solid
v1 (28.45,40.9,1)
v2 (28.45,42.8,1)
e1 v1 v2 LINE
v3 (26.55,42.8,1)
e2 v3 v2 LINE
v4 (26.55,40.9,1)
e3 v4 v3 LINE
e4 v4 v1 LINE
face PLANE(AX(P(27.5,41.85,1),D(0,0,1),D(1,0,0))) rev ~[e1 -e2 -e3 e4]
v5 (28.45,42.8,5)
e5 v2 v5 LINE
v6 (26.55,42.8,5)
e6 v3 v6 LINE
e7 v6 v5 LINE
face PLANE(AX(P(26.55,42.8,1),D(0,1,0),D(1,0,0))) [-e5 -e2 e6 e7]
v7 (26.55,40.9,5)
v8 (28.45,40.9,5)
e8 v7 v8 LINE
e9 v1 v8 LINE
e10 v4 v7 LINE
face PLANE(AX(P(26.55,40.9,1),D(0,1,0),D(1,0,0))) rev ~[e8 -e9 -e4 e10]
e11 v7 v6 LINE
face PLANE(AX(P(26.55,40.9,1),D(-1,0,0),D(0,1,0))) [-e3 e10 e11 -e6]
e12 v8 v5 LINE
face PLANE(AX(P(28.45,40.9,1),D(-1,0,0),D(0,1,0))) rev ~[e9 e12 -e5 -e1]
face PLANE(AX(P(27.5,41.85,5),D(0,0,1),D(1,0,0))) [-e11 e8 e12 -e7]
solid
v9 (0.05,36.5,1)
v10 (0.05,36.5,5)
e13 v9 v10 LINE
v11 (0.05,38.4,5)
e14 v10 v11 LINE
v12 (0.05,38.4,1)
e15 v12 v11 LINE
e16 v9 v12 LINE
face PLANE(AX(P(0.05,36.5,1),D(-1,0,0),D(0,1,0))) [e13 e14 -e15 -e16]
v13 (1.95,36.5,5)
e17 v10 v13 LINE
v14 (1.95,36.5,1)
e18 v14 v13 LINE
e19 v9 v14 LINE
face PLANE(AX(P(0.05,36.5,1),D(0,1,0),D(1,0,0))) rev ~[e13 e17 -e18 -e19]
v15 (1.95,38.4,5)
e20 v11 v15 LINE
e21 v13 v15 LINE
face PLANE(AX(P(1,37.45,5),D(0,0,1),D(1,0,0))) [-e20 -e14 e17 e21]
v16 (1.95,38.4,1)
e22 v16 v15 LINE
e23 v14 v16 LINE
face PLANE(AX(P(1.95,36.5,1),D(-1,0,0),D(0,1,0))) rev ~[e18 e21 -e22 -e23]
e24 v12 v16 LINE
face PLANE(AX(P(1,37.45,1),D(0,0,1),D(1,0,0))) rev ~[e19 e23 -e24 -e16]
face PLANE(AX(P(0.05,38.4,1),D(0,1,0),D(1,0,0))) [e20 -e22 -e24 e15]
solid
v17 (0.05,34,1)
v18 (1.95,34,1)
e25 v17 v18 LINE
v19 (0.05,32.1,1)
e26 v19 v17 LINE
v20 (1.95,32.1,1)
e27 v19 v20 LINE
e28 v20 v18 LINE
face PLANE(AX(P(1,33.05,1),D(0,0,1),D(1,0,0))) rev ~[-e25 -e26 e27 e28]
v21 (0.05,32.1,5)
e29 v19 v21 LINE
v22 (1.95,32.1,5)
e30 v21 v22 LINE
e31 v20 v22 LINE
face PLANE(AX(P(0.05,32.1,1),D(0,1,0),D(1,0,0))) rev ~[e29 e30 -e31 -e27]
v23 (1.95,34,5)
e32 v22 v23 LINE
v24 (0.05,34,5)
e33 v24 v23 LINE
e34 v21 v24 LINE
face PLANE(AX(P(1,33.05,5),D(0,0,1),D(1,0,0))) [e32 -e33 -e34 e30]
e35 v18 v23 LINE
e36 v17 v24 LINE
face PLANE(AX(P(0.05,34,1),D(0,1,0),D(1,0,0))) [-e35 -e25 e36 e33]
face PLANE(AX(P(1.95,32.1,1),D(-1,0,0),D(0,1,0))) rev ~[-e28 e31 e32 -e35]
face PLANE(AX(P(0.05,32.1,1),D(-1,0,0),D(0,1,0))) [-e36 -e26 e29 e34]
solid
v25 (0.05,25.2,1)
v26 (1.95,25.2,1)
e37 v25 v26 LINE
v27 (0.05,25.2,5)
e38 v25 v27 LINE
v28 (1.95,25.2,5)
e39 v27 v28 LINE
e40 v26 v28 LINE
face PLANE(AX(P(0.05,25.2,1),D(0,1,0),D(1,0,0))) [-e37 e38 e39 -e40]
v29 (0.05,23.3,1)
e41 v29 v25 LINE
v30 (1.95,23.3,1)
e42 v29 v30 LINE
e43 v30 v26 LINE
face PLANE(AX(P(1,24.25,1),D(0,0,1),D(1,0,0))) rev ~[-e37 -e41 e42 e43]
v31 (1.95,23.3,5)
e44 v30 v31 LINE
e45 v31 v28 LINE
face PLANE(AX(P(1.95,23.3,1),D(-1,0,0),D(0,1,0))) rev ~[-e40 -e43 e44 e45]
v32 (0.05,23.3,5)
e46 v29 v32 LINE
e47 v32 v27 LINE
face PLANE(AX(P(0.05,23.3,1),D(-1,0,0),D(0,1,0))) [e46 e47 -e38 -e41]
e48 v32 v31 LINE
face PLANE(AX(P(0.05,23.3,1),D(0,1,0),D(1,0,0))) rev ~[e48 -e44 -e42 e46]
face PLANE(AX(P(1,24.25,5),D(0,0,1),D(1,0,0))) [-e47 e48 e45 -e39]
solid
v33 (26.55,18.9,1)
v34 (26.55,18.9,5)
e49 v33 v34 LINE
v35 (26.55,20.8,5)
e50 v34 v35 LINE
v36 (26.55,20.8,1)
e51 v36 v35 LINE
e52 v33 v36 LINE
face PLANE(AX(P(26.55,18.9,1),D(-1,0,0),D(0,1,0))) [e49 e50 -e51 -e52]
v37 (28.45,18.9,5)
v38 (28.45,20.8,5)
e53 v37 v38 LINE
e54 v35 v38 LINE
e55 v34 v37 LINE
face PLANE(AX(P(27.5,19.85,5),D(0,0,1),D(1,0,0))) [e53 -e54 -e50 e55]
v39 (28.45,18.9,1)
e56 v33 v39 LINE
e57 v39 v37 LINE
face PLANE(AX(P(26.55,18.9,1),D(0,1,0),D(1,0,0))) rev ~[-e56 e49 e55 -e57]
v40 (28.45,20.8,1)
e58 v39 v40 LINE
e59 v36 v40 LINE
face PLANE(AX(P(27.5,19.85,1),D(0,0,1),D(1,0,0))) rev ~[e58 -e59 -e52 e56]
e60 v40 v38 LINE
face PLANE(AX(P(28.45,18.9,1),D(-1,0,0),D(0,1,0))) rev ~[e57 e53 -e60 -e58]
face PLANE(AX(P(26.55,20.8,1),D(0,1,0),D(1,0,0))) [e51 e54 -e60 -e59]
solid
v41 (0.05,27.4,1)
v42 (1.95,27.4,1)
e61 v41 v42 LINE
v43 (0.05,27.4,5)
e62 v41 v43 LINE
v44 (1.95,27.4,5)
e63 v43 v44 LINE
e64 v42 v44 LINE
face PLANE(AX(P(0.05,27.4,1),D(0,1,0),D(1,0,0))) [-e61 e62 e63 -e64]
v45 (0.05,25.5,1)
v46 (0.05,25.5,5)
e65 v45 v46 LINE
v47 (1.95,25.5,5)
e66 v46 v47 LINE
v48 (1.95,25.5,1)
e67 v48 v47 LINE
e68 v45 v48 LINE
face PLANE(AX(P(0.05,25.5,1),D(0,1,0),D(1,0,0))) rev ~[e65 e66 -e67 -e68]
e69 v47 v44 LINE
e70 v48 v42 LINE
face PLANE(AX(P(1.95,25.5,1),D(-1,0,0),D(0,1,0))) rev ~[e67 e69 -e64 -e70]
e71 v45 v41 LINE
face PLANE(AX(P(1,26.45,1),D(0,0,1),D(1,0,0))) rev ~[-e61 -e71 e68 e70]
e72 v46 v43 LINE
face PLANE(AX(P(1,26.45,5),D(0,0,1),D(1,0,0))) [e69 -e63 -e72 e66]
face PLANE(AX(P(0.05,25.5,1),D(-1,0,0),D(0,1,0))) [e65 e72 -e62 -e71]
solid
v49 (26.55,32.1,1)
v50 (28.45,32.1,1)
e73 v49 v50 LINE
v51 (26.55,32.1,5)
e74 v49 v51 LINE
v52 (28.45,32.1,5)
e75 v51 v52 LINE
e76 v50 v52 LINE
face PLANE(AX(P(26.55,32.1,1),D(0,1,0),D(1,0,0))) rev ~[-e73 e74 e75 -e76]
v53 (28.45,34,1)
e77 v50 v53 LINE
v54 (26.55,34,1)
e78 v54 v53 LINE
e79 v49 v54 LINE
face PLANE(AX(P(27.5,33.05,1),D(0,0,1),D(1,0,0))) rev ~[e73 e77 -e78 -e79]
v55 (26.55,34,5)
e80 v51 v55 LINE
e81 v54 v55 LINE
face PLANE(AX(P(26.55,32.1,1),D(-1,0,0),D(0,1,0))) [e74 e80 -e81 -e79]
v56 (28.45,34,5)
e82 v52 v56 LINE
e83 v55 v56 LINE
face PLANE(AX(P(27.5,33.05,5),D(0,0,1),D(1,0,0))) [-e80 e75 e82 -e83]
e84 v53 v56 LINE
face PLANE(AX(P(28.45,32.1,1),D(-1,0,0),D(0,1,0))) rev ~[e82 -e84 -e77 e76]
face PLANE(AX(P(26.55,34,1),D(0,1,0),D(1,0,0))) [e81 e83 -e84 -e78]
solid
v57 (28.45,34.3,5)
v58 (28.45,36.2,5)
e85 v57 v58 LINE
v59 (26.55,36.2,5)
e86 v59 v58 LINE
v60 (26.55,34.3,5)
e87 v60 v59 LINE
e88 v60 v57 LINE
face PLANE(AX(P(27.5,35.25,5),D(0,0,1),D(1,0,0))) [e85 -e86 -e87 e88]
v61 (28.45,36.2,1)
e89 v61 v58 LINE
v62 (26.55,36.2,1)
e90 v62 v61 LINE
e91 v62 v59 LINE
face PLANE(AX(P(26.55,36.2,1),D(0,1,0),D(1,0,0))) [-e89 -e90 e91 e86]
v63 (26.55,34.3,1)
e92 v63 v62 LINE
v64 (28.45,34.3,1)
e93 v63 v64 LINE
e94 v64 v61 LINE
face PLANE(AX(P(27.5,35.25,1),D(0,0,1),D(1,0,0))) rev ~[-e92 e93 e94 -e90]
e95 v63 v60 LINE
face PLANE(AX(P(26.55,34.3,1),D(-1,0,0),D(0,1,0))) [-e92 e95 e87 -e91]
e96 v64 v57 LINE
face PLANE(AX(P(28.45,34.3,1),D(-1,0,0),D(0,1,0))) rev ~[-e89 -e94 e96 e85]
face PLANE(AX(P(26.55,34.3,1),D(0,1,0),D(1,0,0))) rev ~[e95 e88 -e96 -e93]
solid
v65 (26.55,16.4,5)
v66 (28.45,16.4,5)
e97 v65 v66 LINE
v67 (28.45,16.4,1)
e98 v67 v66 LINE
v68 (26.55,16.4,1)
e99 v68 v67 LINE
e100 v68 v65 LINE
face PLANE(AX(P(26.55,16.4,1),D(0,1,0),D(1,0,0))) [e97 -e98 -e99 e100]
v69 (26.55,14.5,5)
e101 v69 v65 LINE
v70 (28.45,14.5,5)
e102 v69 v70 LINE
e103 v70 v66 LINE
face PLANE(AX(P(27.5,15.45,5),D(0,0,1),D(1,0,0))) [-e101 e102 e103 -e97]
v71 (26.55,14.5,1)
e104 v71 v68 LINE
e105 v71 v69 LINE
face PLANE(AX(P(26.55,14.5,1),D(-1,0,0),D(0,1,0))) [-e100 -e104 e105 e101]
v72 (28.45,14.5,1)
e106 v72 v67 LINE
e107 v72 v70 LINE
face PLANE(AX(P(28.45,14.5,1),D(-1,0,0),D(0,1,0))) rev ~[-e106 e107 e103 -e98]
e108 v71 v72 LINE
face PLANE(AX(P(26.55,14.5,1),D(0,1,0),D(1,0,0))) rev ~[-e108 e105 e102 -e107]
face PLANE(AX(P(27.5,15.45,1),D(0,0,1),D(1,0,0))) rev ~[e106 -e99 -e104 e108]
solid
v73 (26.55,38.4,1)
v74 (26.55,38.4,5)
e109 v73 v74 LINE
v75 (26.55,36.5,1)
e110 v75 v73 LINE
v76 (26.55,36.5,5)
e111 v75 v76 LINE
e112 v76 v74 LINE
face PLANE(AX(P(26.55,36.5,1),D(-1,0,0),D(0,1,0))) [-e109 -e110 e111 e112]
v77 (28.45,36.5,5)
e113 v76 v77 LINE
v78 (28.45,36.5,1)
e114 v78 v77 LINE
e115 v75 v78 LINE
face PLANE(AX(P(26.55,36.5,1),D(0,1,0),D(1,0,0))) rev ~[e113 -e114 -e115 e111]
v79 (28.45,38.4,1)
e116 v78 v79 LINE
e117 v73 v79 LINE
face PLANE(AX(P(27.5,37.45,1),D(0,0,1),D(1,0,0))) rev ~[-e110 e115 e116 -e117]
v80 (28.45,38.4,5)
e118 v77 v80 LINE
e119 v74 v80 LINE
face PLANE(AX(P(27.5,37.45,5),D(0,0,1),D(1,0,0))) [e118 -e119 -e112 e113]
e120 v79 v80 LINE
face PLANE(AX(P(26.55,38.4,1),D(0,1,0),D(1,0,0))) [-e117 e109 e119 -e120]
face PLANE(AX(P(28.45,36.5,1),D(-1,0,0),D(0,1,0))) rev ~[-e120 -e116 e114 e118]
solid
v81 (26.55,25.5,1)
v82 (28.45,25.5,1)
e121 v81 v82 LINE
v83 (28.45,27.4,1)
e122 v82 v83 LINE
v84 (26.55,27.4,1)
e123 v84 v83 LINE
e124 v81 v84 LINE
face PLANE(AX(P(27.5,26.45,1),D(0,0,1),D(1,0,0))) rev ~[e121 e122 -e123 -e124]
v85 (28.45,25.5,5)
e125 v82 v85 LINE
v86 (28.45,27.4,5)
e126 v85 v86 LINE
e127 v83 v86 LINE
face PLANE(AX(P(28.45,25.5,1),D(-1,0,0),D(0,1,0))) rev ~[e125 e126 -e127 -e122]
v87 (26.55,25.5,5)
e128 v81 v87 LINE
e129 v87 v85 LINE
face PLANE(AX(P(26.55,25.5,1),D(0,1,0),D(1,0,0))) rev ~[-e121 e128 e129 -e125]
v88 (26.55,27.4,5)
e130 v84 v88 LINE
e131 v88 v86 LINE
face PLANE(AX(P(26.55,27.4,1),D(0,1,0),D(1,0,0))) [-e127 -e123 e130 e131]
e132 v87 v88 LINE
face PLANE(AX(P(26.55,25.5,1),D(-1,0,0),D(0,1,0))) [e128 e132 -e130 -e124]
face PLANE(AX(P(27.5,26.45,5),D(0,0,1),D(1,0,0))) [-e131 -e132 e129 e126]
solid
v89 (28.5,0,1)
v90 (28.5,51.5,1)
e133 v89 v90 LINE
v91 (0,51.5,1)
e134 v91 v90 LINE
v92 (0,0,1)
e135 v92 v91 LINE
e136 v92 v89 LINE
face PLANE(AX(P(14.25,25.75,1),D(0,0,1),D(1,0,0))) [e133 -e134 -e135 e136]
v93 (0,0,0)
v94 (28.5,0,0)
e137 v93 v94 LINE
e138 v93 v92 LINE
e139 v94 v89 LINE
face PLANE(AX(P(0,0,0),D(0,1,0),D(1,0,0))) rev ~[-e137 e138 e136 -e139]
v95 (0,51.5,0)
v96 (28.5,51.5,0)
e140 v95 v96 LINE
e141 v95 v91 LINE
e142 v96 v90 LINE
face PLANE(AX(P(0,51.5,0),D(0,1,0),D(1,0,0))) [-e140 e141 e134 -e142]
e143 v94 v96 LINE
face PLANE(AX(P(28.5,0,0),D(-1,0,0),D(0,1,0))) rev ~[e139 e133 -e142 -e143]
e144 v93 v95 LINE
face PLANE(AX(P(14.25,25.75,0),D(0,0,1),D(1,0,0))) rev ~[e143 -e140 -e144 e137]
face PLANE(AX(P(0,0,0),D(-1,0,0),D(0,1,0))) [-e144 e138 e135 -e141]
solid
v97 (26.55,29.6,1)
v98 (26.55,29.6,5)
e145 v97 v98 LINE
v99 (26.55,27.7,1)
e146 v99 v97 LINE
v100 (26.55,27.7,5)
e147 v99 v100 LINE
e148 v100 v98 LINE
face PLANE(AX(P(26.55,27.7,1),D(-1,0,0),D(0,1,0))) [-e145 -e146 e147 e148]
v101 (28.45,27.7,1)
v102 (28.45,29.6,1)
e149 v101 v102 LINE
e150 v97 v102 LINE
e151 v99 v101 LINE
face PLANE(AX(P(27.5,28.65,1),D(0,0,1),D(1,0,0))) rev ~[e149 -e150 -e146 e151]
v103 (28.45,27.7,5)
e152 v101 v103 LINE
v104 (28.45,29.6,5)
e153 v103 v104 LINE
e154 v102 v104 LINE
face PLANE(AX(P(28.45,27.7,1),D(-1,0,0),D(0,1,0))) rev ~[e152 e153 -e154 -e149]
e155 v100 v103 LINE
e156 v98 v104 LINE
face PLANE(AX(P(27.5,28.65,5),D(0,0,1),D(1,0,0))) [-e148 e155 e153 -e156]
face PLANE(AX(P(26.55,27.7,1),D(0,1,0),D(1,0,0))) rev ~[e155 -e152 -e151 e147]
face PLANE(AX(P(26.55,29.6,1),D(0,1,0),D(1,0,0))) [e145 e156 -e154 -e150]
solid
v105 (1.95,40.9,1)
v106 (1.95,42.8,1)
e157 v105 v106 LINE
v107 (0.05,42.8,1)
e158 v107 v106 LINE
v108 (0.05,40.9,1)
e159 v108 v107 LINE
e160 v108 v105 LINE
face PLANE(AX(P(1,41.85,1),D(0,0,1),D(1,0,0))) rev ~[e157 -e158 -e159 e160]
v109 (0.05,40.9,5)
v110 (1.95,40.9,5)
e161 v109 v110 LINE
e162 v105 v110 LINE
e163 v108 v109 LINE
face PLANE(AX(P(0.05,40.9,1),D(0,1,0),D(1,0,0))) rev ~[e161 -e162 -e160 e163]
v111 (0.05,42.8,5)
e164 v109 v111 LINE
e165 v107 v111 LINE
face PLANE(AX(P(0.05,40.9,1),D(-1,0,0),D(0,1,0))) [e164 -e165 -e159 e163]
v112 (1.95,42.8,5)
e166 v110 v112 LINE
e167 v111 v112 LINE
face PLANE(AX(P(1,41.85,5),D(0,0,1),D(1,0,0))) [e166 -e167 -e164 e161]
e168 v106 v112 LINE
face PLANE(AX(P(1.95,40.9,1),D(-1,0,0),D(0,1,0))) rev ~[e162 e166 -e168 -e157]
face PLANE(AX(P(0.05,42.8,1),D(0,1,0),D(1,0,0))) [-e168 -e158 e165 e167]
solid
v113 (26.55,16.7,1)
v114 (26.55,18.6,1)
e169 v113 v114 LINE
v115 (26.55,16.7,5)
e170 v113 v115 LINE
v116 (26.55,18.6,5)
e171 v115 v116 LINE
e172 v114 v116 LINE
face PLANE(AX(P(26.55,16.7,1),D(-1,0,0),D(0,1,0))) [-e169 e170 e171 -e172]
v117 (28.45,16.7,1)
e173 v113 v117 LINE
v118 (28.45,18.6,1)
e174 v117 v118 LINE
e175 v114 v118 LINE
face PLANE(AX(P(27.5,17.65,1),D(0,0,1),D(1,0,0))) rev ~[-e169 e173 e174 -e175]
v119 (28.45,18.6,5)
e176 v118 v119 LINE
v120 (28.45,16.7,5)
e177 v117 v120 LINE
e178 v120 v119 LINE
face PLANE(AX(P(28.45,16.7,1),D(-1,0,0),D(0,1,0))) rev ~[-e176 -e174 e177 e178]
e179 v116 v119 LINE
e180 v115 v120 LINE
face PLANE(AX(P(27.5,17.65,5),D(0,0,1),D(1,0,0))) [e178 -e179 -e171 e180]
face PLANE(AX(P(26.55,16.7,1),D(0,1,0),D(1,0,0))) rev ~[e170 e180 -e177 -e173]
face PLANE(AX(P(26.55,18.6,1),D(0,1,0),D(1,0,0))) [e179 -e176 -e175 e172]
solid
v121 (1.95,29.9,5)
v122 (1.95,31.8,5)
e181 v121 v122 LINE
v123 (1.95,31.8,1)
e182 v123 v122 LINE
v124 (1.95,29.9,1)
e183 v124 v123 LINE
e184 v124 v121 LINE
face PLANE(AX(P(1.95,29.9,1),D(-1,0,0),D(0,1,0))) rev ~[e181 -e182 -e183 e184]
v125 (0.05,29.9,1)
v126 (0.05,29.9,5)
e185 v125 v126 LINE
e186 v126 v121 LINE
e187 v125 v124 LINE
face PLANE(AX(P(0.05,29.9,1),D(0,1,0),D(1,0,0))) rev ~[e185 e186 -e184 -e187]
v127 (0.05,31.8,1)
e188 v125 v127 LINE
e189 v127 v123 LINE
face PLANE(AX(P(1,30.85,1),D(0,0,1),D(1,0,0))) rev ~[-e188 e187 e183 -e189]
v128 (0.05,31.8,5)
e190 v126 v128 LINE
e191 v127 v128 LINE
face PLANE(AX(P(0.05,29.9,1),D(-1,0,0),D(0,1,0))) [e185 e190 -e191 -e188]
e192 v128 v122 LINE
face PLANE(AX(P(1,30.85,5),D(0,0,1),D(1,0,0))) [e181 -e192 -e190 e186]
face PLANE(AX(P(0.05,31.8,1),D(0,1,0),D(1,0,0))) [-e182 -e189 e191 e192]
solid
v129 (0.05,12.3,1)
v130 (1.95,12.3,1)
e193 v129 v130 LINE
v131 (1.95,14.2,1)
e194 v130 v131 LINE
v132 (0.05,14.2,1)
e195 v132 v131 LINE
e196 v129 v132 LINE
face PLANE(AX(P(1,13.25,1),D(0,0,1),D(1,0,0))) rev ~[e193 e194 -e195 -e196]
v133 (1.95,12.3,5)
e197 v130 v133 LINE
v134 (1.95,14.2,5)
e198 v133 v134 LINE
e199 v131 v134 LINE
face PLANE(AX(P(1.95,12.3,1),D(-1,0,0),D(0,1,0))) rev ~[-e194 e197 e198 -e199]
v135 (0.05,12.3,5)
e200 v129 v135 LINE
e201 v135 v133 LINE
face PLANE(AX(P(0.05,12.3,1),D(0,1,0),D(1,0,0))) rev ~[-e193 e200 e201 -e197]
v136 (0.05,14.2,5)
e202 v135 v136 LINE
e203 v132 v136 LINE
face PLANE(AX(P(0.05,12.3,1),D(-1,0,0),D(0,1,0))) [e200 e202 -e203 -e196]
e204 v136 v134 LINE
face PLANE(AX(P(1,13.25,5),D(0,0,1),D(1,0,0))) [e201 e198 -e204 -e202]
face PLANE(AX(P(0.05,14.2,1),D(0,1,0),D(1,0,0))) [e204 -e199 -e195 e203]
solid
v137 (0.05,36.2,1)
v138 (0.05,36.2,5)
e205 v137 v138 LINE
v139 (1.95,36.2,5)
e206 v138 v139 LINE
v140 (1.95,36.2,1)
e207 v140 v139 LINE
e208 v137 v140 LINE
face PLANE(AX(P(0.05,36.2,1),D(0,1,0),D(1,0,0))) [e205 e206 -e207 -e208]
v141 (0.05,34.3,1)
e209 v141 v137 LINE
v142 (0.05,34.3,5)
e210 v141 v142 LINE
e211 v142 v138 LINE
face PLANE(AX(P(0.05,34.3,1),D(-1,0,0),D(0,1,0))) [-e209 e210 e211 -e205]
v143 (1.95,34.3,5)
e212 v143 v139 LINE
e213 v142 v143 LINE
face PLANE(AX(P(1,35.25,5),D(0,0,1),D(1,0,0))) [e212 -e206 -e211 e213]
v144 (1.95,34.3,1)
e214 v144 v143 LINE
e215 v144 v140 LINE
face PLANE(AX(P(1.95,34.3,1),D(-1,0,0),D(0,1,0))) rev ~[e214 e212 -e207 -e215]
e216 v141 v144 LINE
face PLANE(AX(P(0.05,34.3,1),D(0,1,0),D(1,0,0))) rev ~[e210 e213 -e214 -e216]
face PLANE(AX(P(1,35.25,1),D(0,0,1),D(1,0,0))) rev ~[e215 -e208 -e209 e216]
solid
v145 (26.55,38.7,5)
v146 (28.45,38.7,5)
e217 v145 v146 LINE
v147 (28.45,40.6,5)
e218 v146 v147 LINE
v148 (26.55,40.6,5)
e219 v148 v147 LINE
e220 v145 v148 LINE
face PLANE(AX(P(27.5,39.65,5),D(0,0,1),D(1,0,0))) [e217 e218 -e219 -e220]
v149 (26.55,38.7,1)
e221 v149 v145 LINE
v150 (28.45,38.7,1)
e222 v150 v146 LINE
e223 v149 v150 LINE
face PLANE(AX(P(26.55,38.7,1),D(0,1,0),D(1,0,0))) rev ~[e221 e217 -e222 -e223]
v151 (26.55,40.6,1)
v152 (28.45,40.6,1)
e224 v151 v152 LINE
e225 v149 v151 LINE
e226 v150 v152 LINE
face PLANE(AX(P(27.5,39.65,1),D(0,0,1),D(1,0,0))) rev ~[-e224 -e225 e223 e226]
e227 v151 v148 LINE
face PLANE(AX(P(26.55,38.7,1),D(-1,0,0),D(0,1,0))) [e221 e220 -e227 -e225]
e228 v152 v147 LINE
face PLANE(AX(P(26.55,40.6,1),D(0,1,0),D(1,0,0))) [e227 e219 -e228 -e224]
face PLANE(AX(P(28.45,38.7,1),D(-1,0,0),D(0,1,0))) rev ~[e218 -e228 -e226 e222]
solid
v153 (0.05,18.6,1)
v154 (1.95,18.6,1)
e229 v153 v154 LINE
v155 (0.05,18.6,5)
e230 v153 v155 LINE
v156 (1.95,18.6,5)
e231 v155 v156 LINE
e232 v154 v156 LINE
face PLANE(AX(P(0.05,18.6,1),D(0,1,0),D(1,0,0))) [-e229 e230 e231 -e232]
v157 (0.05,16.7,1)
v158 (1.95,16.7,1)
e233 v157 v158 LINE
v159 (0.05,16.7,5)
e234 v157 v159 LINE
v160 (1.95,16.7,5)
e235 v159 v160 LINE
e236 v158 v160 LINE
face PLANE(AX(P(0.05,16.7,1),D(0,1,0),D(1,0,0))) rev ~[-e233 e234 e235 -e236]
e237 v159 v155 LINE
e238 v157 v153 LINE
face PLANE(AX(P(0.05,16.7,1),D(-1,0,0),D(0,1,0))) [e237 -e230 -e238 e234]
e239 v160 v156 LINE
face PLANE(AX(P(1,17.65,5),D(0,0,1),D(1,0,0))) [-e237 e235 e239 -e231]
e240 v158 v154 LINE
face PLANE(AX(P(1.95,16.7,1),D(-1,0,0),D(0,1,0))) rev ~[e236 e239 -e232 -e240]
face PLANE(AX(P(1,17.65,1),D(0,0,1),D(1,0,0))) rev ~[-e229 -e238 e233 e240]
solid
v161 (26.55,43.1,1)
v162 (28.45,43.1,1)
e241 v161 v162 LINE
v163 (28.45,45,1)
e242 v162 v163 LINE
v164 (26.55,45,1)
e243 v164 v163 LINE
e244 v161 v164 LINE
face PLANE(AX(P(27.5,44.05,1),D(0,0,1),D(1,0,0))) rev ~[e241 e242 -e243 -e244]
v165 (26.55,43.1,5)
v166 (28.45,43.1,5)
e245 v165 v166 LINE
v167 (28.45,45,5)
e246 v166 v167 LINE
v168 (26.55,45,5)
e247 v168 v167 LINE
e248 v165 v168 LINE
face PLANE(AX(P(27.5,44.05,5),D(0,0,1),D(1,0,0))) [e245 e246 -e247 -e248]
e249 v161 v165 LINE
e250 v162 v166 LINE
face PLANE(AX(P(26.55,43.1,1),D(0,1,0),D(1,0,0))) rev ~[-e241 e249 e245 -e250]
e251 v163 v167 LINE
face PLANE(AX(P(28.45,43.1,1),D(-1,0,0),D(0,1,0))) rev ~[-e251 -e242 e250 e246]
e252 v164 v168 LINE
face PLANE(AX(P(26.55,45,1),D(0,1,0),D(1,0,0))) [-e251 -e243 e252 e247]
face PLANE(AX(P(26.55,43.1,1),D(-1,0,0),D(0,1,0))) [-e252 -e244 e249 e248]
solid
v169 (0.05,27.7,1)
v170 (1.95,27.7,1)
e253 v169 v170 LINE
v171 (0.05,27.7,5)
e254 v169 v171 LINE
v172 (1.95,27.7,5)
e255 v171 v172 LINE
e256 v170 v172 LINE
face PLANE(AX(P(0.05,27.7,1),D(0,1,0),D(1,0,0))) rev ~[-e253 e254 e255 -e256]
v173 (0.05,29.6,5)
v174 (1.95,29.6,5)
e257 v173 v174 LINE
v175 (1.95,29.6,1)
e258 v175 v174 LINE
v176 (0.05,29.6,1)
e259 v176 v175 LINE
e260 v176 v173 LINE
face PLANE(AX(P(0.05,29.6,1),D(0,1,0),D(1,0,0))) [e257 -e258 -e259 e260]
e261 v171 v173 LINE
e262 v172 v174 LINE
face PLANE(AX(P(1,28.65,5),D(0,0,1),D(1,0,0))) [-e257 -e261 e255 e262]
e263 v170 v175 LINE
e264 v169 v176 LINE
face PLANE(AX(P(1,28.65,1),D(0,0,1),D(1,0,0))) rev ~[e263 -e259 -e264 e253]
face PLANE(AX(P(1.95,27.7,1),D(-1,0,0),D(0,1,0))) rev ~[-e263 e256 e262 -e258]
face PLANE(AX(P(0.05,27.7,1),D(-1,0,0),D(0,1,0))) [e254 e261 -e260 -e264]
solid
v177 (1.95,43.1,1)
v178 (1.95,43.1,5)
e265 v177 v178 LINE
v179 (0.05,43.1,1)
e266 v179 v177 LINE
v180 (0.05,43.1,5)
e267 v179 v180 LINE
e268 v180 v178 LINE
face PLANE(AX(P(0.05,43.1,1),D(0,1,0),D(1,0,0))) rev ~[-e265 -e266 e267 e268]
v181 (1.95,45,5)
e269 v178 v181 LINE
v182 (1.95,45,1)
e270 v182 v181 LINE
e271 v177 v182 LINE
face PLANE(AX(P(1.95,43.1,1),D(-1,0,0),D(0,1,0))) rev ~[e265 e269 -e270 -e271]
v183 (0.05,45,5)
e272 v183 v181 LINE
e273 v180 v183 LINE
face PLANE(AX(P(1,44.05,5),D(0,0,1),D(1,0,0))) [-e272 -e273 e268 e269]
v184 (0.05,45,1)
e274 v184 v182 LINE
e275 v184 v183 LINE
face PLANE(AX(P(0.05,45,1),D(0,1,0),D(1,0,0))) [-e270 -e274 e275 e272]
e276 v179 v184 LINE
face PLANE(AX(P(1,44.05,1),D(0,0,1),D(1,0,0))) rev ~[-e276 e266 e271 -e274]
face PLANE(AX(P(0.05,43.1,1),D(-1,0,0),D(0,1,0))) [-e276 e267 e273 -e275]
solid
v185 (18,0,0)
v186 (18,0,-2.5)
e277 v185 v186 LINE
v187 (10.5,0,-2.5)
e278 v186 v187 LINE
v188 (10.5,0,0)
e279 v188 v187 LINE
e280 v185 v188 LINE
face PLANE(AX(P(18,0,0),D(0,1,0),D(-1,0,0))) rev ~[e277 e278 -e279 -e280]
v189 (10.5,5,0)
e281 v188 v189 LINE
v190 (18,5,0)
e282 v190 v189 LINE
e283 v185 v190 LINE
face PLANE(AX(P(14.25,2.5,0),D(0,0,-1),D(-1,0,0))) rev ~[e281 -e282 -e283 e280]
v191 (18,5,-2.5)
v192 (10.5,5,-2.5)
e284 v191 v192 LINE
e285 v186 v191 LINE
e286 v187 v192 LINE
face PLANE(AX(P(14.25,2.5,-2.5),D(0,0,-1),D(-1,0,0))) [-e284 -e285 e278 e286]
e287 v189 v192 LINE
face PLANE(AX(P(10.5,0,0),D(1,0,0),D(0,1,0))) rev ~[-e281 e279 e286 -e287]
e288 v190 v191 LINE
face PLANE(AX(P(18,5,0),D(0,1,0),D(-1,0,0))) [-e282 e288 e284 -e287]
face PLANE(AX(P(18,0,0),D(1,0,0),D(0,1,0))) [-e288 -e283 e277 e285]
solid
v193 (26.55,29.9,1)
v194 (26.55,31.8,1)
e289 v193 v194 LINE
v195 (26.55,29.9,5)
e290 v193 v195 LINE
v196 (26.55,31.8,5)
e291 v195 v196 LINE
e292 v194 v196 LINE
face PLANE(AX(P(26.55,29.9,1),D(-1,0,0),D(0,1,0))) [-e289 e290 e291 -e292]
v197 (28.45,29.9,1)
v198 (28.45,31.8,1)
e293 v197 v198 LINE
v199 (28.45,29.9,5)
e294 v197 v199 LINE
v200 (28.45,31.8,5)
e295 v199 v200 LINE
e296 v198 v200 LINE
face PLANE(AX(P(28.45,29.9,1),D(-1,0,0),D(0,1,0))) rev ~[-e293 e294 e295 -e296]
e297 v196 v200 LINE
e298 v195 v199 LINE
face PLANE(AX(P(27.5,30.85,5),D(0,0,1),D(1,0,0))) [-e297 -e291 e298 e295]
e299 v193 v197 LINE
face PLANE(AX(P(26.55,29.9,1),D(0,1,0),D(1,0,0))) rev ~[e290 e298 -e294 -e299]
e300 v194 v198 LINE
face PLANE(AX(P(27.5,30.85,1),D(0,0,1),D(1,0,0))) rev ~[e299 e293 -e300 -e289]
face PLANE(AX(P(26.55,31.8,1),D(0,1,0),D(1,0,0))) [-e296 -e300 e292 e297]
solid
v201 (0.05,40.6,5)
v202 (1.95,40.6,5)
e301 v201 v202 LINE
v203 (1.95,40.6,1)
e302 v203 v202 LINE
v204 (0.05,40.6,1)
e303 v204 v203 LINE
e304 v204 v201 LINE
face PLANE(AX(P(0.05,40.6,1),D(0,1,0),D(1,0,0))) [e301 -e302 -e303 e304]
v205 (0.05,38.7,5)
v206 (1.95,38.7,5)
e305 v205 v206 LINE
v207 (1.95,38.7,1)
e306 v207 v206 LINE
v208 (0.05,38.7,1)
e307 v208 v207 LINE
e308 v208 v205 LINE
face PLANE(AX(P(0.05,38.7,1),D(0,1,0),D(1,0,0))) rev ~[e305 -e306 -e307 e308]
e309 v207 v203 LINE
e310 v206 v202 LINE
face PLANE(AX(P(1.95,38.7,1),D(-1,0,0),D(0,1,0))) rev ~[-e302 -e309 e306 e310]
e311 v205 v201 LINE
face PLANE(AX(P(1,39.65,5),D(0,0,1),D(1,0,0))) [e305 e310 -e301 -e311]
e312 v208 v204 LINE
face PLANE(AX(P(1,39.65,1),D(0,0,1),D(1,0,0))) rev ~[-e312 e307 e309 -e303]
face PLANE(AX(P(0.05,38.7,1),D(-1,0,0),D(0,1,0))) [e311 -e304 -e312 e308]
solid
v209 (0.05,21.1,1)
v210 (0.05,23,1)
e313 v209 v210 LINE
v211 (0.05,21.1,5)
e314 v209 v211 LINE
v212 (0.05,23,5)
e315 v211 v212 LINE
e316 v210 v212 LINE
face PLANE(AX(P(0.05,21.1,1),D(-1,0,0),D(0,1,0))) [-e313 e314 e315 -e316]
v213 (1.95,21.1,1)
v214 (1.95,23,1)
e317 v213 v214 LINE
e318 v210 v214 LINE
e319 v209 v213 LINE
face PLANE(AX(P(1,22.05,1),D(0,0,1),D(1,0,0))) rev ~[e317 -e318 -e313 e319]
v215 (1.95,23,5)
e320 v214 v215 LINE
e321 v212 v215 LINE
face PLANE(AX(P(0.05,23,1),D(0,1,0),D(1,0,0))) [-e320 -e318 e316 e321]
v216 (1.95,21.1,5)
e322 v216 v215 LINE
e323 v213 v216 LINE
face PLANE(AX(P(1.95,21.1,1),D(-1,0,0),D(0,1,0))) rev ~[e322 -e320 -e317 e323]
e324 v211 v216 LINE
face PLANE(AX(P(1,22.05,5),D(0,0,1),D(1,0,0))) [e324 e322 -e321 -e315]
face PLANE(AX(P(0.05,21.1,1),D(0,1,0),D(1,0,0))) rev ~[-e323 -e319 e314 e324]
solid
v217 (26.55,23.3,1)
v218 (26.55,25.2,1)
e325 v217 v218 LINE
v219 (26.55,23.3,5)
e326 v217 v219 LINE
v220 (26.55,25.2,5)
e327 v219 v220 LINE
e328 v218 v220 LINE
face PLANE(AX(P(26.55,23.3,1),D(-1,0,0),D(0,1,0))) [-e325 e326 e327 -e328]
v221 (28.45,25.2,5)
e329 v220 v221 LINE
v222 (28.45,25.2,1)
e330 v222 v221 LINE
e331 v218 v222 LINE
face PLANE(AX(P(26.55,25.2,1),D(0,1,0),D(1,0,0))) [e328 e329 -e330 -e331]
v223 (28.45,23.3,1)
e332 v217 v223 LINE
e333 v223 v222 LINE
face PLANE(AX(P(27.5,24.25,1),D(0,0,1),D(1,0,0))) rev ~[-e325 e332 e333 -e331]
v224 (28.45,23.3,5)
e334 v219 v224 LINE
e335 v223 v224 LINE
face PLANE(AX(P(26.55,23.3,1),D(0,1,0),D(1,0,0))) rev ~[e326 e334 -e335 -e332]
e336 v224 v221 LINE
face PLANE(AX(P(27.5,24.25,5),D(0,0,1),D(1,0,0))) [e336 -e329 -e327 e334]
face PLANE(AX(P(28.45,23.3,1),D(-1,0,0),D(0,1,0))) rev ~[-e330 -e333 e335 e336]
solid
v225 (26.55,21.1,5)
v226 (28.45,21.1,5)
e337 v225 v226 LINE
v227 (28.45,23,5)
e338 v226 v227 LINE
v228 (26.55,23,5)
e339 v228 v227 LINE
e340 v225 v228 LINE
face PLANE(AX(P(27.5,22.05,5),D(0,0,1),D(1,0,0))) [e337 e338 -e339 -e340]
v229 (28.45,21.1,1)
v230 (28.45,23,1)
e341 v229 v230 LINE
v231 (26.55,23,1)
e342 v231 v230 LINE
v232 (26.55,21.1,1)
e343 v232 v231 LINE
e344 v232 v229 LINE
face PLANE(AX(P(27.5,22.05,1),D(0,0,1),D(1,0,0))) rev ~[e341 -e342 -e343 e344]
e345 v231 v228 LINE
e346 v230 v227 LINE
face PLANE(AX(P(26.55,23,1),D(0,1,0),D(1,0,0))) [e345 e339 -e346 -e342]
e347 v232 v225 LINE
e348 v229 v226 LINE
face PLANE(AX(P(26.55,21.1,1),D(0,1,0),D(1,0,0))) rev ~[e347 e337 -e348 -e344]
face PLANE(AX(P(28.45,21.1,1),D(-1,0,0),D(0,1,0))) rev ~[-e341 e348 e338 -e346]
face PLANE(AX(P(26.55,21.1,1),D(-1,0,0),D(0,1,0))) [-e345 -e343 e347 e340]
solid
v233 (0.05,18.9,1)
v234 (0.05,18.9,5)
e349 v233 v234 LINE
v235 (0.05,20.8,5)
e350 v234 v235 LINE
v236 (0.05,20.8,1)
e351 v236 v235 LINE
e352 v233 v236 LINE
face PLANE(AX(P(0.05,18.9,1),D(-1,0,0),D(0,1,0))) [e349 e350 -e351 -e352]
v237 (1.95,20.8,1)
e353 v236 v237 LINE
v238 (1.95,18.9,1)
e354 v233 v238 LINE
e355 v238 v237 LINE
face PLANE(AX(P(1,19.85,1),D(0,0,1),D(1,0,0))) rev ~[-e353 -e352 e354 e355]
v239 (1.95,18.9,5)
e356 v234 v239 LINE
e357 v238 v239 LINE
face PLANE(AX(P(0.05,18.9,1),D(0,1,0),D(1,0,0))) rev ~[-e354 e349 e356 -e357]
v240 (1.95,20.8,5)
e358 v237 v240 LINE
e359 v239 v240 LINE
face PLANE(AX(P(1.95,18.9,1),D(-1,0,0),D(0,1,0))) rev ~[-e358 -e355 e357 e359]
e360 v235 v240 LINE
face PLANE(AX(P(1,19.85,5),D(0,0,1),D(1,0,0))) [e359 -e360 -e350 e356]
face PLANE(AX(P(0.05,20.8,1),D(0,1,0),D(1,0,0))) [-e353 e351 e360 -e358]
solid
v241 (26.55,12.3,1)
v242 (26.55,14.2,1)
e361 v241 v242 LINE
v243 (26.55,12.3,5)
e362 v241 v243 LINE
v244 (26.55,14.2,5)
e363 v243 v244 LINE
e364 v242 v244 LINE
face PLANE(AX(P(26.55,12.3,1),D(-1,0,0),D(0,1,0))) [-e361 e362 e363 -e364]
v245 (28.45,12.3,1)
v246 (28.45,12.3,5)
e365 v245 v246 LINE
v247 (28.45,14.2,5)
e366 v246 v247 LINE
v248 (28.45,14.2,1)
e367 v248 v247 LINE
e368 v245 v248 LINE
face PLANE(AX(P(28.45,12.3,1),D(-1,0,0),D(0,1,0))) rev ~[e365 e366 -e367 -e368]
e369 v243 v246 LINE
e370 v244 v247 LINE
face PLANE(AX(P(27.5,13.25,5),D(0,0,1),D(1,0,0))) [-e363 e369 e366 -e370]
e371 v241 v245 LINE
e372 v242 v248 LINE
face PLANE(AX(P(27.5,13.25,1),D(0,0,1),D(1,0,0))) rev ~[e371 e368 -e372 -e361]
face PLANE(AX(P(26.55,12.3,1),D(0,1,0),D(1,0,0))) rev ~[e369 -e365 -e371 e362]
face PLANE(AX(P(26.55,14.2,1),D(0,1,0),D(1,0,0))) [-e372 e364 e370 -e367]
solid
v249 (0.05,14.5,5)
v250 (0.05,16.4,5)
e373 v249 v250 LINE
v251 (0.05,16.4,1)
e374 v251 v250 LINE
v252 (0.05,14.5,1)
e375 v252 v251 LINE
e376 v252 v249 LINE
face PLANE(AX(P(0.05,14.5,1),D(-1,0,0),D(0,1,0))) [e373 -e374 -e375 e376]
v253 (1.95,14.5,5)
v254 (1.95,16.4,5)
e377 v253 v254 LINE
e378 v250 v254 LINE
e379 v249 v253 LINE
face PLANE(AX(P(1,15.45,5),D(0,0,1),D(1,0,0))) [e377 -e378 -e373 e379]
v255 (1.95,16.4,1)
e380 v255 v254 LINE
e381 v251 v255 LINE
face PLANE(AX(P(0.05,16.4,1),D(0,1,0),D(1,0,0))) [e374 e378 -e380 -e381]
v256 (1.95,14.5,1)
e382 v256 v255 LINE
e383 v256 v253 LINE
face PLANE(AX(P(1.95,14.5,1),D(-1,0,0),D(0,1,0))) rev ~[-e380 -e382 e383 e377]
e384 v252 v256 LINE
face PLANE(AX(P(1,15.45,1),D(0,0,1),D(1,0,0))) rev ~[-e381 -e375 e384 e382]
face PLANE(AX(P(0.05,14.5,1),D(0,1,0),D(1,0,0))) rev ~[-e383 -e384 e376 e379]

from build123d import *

# Parameters (mm, degrees)
SKETCH_1_W         = 28.5
SKETCH_1_H         = 51.5
EXTRUDE_1_DEPTH    = 1
SKETCH_2_W         = 1.9
SKETCH_2_H         = 1.9
EXTRUDE_2_DEPTH    = 4
EXTRUDE_2_2_DEPTH  = 4
EXTRUDE_2_3_DEPTH  = 4
EXTRUDE_2_4_DEPTH  = 4
EXTRUDE_2_5_DEPTH  = 4
EXTRUDE_2_6_DEPTH  = 4
EXTRUDE_2_7_DEPTH  = 4
EXTRUDE_2_8_DEPTH  = 4
EXTRUDE_2_9_DEPTH  = 4
EXTRUDE_2_10_DEPTH = 4
EXTRUDE_2_11_DEPTH = 4
EXTRUDE_2_12_DEPTH = 4
EXTRUDE_2_13_DEPTH = 4
EXTRUDE_2_14_DEPTH = 4
EXTRUDE_2_15_DEPTH = 4
EXTRUDE_2_16_DEPTH = 4
EXTRUDE_2_17_DEPTH = 4
EXTRUDE_2_18_DEPTH = 4
EXTRUDE_2_19_DEPTH = 4
EXTRUDE_2_20_DEPTH = 4
EXTRUDE_2_21_DEPTH = 4
EXTRUDE_2_22_DEPTH = 4
EXTRUDE_2_23_DEPTH = 4
EXTRUDE_2_24_DEPTH = 4
EXTRUDE_2_25_DEPTH = 4
EXTRUDE_2_26_DEPTH = 4
EXTRUDE_2_27_DEPTH = 4
EXTRUDE_2_28_DEPTH = 4
EXTRUDE_2_29_DEPTH = 4
EXTRUDE_2_30_DEPTH = 4
SKETCH_3_W         = 7.5
SKETCH_3_H         = 5
EXTRUDE_3_DEPTH    = 2.5


with BuildPart() as part:
    # ｽｹｯﾁ1 → ﾎﾞｽ - 押し出し1 (new body)
    with BuildSketch(Plane.XY):
        with Locations((14.25, 25.75)):
            Rectangle(SKETCH_1_W, SKETCH_1_H)
    extrude(amount=EXTRUDE_1_DEPTH)


with BuildPart() as body_2:
    # ｽｹｯﾁ2 → ﾎﾞｽ - 押し出し2 (new body)
    with BuildSketch(Plane.XY.offset(1)):
        with Locations((1, 44.05)):
            Rectangle(SKETCH_2_W, SKETCH_2_H)
    extrude(amount=EXTRUDE_2_DEPTH)


with BuildPart() as body_3:
    # ｽｹｯﾁ2 → Extrude 2 2 (new body)
    with BuildSketch(Plane.XY.offset(1)):
        with Locations((27.5, 44.05)):
            Rectangle(SKETCH_2_W, SKETCH_2_H)
    extrude(amount=EXTRUDE_2_2_DEPTH)


with BuildPart() as body_4:
    # ｽｹｯﾁ2 → Extrude 2 3 (new body)
    with BuildSketch(Plane.XY.offset(1)):
        with Locations((1, 41.85)):
            Rectangle(SKETCH_2_W, SKETCH_2_H)
    extrude(amount=EXTRUDE_2_3_DEPTH)


with BuildPart() as body_5:
    # ｽｹｯﾁ2 → Extrude 2 4 (new body)
    with BuildSketch(Plane.XY.offset(1)):
        with Locations((27.5, 41.85)):
            Rectangle(SKETCH_2_W, SKETCH_2_H)
    extrude(amount=EXTRUDE_2_4_DEPTH)


with BuildPart() as body_6:
    # ｽｹｯﾁ2 → Extrude 2 5 (new body)
    with BuildSketch(Plane.XY.offset(1)):
        with Locations((1, 39.65)):
            Rectangle(SKETCH_2_W, SKETCH_2_H)
    extrude(amount=EXTRUDE_2_5_DEPTH)


with BuildPart() as body_7:
    # ｽｹｯﾁ2 → Extrude 2 6 (new body)
    with BuildSketch(Plane.XY.offset(1)):
        with Locations((27.5, 39.65)):
            Rectangle(SKETCH_2_W, SKETCH_2_H)
    extrude(amount=EXTRUDE_2_6_DEPTH)


with BuildPart() as body_8:
    # ｽｹｯﾁ2 → Extrude 2 7 (new body)
    with BuildSketch(Plane.XY.offset(1)):
        with Locations((1, 37.45)):
            Rectangle(SKETCH_2_W, SKETCH_2_H)
    extrude(amount=EXTRUDE_2_7_DEPTH)


with BuildPart() as body_9:
    # ｽｹｯﾁ2 → Extrude 2 8 (new body)
    with BuildSketch(Plane.XY.offset(1)):
        with Locations((27.5, 37.45)):
            Rectangle(SKETCH_2_W, SKETCH_2_H)
    extrude(amount=EXTRUDE_2_8_DEPTH)


with BuildPart() as body_10:
    # ｽｹｯﾁ2 → Extrude 2 9 (new body)
    with BuildSketch(Plane.XY.offset(1)):
        with Locations((1, 35.25)):
            Rectangle(SKETCH_2_W, SKETCH_2_H)
    extrude(amount=EXTRUDE_2_9_DEPTH)


with BuildPart() as body_11:
    # ｽｹｯﾁ2 → Extrude 2 10 (new body)
    with BuildSketch(Plane.XY.offset(1)):
        with Locations((27.5, 35.25)):
            Rectangle(SKETCH_2_W, SKETCH_2_H)
    extrude(amount=EXTRUDE_2_10_DEPTH)


with BuildPart() as body_12:
    # ｽｹｯﾁ2 → Extrude 2 11 (new body)
    with BuildSketch(Plane.XY.offset(1)):
        with Locations((1, 33.05)):
            Rectangle(SKETCH_2_W, SKETCH_2_H)
    extrude(amount=EXTRUDE_2_11_DEPTH)


with BuildPart() as body_13:
    # ｽｹｯﾁ2 → Extrude 2 12 (new body)
    with BuildSketch(Plane.XY.offset(1)):
        with Locations((27.5, 33.05)):
            Rectangle(SKETCH_2_W, SKETCH_2_H)
    extrude(amount=EXTRUDE_2_12_DEPTH)


with BuildPart() as body_14:
    # ｽｹｯﾁ2 → Extrude 2 13 (new body)
    with BuildSketch(Plane.XY.offset(1)):
        with Locations((1, 30.85)):
            Rectangle(SKETCH_2_W, SKETCH_2_H)
    extrude(amount=EXTRUDE_2_13_DEPTH)


with BuildPart() as body_15:
    # ｽｹｯﾁ2 → Extrude 2 14 (new body)
    with BuildSketch(Plane.XY.offset(1)):
        with Locations((27.5, 30.85)):
            Rectangle(SKETCH_2_W, SKETCH_2_H)
    extrude(amount=EXTRUDE_2_14_DEPTH)


with BuildPart() as body_16:
    # ｽｹｯﾁ2 → Extrude 2 15 (new body)
    with BuildSketch(Plane.XY.offset(1)):
        with Locations((1, 28.65)):
            Rectangle(SKETCH_2_W, SKETCH_2_H)
    extrude(amount=EXTRUDE_2_15_DEPTH)


with BuildPart() as body_17:
    # ｽｹｯﾁ2 → Extrude 2 16 (new body)
    with BuildSketch(Plane.XY.offset(1)):
        with Locations((27.5, 28.65)):
            Rectangle(SKETCH_2_W, SKETCH_2_H)
    extrude(amount=EXTRUDE_2_16_DEPTH)


with BuildPart() as body_18:
    # ｽｹｯﾁ2 → Extrude 2 17 (new body)
    with BuildSketch(Plane.XY.offset(1)):
        with Locations((1, 26.45)):
            Rectangle(SKETCH_2_W, SKETCH_2_H)
    extrude(amount=EXTRUDE_2_17_DEPTH)


with BuildPart() as body_19:
    # ｽｹｯﾁ2 → Extrude 2 18 (new body)
    with BuildSketch(Plane.XY.offset(1)):
        with Locations((27.5, 26.45)):
            Rectangle(SKETCH_2_W, SKETCH_2_H)
    extrude(amount=EXTRUDE_2_18_DEPTH)


with BuildPart() as body_20:
    # ｽｹｯﾁ2 → Extrude 2 19 (new body)
    with BuildSketch(Plane.XY.offset(1)):
        with Locations((1, 24.25)):
            Rectangle(SKETCH_2_W, SKETCH_2_H)
    extrude(amount=EXTRUDE_2_19_DEPTH)


with BuildPart() as body_21:
    # ｽｹｯﾁ2 → Extrude 2 20 (new body)
    with BuildSketch(Plane.XY.offset(1)):
        with Locations((27.5, 24.25)):
            Rectangle(SKETCH_2_W, SKETCH_2_H)
    extrude(amount=EXTRUDE_2_20_DEPTH)


with BuildPart() as body_22:
    # ｽｹｯﾁ2 → Extrude 2 21 (new body)
    with BuildSketch(Plane.XY.offset(1)):
        with Locations((1, 22.05)):
            Rectangle(SKETCH_2_W, SKETCH_2_H)
    extrude(amount=EXTRUDE_2_21_DEPTH)


with BuildPart() as body_23:
    # ｽｹｯﾁ2 → Extrude 2 22 (new body)
    with BuildSketch(Plane.XY.offset(1)):
        with Locations((27.5, 22.05)):
            Rectangle(SKETCH_2_W, SKETCH_2_H)
    extrude(amount=EXTRUDE_2_22_DEPTH)


with BuildPart() as body_24:
    # ｽｹｯﾁ2 → Extrude 2 23 (new body)
    with BuildSketch(Plane.XY.offset(1)):
        with Locations((1, 19.85)):
            Rectangle(SKETCH_2_W, SKETCH_2_H)
    extrude(amount=EXTRUDE_2_23_DEPTH)


with BuildPart() as body_25:
    # ｽｹｯﾁ2 → Extrude 2 24 (new body)
    with BuildSketch(Plane.XY.offset(1)):
        with Locations((27.5, 19.85)):
            Rectangle(SKETCH_2_W, SKETCH_2_H)
    extrude(amount=EXTRUDE_2_24_DEPTH)


with BuildPart() as body_26:
    # ｽｹｯﾁ2 → Extrude 2 25 (new body)
    with BuildSketch(Plane.XY.offset(1)):
        with Locations((1, 17.65)):
            Rectangle(SKETCH_2_W, SKETCH_2_H)
    extrude(amount=EXTRUDE_2_25_DEPTH)


with BuildPart() as body_27:
    # ｽｹｯﾁ2 → Extrude 2 26 (new body)
    with BuildSketch(Plane.XY.offset(1)):
        with Locations((27.5, 17.65)):
            Rectangle(SKETCH_2_W, SKETCH_2_H)
    extrude(amount=EXTRUDE_2_26_DEPTH)


with BuildPart() as body_28:
    # ｽｹｯﾁ2 → Extrude 2 27 (new body)
    with BuildSketch(Plane.XY.offset(1)):
        with Locations((1, 15.45)):
            Rectangle(SKETCH_2_W, SKETCH_2_H)
    extrude(amount=EXTRUDE_2_27_DEPTH)


with BuildPart() as body_29:
    # ｽｹｯﾁ2 → Extrude 2 28 (new body)
    with BuildSketch(Plane.XY.offset(1)):
        with Locations((27.5, 15.45)):
            Rectangle(SKETCH_2_W, SKETCH_2_H)
    extrude(amount=EXTRUDE_2_28_DEPTH)


with BuildPart() as body_30:
    # ｽｹｯﾁ2 → Extrude 2 29 (new body)
    with BuildSketch(Plane.XY.offset(1)):
        with Locations((1, 13.25)):
            Rectangle(SKETCH_2_W, SKETCH_2_H)
    extrude(amount=EXTRUDE_2_29_DEPTH)


with BuildPart() as body_31:
    # ｽｹｯﾁ2 → Extrude 2 30 (new body)
    with BuildSketch(Plane.XY.offset(1)):
        with Locations((27.5, 13.25)):
            Rectangle(SKETCH_2_W, SKETCH_2_H)
    extrude(amount=EXTRUDE_2_30_DEPTH)


with BuildPart() as body_32:
    # ｽｹｯﾁ3 → ﾎﾞｽ - 押し出し3 (new body)
    with BuildSketch(Plane(origin=(0, 0, 0), x_dir=(-1, 0, 0), z_dir=(0, 0, -1))):
        with Locations((-14.25, 2.5)):
            Rectangle(SKETCH_3_W, SKETCH_3_H)
    extrude(amount=EXTRUDE_3_DEPTH)


solid = Compound([part.part, body_2.part, body_3.part, body_4.part, body_5.part, body_6.part, body_7.part, body_8.part, body_9.part, body_10.part, body_11.part, body_12.part, body_13.part, body_14.part, body_15.part, body_16.part, body_17.part, body_18.part, body_19.part, body_20.part, body_21.part, body_22.part, body_23.part, body_24.part, body_25.part, body_26.part, body_27.part, body_28.part, body_29.part, body_30.part, body_31.part, body_32.part])
